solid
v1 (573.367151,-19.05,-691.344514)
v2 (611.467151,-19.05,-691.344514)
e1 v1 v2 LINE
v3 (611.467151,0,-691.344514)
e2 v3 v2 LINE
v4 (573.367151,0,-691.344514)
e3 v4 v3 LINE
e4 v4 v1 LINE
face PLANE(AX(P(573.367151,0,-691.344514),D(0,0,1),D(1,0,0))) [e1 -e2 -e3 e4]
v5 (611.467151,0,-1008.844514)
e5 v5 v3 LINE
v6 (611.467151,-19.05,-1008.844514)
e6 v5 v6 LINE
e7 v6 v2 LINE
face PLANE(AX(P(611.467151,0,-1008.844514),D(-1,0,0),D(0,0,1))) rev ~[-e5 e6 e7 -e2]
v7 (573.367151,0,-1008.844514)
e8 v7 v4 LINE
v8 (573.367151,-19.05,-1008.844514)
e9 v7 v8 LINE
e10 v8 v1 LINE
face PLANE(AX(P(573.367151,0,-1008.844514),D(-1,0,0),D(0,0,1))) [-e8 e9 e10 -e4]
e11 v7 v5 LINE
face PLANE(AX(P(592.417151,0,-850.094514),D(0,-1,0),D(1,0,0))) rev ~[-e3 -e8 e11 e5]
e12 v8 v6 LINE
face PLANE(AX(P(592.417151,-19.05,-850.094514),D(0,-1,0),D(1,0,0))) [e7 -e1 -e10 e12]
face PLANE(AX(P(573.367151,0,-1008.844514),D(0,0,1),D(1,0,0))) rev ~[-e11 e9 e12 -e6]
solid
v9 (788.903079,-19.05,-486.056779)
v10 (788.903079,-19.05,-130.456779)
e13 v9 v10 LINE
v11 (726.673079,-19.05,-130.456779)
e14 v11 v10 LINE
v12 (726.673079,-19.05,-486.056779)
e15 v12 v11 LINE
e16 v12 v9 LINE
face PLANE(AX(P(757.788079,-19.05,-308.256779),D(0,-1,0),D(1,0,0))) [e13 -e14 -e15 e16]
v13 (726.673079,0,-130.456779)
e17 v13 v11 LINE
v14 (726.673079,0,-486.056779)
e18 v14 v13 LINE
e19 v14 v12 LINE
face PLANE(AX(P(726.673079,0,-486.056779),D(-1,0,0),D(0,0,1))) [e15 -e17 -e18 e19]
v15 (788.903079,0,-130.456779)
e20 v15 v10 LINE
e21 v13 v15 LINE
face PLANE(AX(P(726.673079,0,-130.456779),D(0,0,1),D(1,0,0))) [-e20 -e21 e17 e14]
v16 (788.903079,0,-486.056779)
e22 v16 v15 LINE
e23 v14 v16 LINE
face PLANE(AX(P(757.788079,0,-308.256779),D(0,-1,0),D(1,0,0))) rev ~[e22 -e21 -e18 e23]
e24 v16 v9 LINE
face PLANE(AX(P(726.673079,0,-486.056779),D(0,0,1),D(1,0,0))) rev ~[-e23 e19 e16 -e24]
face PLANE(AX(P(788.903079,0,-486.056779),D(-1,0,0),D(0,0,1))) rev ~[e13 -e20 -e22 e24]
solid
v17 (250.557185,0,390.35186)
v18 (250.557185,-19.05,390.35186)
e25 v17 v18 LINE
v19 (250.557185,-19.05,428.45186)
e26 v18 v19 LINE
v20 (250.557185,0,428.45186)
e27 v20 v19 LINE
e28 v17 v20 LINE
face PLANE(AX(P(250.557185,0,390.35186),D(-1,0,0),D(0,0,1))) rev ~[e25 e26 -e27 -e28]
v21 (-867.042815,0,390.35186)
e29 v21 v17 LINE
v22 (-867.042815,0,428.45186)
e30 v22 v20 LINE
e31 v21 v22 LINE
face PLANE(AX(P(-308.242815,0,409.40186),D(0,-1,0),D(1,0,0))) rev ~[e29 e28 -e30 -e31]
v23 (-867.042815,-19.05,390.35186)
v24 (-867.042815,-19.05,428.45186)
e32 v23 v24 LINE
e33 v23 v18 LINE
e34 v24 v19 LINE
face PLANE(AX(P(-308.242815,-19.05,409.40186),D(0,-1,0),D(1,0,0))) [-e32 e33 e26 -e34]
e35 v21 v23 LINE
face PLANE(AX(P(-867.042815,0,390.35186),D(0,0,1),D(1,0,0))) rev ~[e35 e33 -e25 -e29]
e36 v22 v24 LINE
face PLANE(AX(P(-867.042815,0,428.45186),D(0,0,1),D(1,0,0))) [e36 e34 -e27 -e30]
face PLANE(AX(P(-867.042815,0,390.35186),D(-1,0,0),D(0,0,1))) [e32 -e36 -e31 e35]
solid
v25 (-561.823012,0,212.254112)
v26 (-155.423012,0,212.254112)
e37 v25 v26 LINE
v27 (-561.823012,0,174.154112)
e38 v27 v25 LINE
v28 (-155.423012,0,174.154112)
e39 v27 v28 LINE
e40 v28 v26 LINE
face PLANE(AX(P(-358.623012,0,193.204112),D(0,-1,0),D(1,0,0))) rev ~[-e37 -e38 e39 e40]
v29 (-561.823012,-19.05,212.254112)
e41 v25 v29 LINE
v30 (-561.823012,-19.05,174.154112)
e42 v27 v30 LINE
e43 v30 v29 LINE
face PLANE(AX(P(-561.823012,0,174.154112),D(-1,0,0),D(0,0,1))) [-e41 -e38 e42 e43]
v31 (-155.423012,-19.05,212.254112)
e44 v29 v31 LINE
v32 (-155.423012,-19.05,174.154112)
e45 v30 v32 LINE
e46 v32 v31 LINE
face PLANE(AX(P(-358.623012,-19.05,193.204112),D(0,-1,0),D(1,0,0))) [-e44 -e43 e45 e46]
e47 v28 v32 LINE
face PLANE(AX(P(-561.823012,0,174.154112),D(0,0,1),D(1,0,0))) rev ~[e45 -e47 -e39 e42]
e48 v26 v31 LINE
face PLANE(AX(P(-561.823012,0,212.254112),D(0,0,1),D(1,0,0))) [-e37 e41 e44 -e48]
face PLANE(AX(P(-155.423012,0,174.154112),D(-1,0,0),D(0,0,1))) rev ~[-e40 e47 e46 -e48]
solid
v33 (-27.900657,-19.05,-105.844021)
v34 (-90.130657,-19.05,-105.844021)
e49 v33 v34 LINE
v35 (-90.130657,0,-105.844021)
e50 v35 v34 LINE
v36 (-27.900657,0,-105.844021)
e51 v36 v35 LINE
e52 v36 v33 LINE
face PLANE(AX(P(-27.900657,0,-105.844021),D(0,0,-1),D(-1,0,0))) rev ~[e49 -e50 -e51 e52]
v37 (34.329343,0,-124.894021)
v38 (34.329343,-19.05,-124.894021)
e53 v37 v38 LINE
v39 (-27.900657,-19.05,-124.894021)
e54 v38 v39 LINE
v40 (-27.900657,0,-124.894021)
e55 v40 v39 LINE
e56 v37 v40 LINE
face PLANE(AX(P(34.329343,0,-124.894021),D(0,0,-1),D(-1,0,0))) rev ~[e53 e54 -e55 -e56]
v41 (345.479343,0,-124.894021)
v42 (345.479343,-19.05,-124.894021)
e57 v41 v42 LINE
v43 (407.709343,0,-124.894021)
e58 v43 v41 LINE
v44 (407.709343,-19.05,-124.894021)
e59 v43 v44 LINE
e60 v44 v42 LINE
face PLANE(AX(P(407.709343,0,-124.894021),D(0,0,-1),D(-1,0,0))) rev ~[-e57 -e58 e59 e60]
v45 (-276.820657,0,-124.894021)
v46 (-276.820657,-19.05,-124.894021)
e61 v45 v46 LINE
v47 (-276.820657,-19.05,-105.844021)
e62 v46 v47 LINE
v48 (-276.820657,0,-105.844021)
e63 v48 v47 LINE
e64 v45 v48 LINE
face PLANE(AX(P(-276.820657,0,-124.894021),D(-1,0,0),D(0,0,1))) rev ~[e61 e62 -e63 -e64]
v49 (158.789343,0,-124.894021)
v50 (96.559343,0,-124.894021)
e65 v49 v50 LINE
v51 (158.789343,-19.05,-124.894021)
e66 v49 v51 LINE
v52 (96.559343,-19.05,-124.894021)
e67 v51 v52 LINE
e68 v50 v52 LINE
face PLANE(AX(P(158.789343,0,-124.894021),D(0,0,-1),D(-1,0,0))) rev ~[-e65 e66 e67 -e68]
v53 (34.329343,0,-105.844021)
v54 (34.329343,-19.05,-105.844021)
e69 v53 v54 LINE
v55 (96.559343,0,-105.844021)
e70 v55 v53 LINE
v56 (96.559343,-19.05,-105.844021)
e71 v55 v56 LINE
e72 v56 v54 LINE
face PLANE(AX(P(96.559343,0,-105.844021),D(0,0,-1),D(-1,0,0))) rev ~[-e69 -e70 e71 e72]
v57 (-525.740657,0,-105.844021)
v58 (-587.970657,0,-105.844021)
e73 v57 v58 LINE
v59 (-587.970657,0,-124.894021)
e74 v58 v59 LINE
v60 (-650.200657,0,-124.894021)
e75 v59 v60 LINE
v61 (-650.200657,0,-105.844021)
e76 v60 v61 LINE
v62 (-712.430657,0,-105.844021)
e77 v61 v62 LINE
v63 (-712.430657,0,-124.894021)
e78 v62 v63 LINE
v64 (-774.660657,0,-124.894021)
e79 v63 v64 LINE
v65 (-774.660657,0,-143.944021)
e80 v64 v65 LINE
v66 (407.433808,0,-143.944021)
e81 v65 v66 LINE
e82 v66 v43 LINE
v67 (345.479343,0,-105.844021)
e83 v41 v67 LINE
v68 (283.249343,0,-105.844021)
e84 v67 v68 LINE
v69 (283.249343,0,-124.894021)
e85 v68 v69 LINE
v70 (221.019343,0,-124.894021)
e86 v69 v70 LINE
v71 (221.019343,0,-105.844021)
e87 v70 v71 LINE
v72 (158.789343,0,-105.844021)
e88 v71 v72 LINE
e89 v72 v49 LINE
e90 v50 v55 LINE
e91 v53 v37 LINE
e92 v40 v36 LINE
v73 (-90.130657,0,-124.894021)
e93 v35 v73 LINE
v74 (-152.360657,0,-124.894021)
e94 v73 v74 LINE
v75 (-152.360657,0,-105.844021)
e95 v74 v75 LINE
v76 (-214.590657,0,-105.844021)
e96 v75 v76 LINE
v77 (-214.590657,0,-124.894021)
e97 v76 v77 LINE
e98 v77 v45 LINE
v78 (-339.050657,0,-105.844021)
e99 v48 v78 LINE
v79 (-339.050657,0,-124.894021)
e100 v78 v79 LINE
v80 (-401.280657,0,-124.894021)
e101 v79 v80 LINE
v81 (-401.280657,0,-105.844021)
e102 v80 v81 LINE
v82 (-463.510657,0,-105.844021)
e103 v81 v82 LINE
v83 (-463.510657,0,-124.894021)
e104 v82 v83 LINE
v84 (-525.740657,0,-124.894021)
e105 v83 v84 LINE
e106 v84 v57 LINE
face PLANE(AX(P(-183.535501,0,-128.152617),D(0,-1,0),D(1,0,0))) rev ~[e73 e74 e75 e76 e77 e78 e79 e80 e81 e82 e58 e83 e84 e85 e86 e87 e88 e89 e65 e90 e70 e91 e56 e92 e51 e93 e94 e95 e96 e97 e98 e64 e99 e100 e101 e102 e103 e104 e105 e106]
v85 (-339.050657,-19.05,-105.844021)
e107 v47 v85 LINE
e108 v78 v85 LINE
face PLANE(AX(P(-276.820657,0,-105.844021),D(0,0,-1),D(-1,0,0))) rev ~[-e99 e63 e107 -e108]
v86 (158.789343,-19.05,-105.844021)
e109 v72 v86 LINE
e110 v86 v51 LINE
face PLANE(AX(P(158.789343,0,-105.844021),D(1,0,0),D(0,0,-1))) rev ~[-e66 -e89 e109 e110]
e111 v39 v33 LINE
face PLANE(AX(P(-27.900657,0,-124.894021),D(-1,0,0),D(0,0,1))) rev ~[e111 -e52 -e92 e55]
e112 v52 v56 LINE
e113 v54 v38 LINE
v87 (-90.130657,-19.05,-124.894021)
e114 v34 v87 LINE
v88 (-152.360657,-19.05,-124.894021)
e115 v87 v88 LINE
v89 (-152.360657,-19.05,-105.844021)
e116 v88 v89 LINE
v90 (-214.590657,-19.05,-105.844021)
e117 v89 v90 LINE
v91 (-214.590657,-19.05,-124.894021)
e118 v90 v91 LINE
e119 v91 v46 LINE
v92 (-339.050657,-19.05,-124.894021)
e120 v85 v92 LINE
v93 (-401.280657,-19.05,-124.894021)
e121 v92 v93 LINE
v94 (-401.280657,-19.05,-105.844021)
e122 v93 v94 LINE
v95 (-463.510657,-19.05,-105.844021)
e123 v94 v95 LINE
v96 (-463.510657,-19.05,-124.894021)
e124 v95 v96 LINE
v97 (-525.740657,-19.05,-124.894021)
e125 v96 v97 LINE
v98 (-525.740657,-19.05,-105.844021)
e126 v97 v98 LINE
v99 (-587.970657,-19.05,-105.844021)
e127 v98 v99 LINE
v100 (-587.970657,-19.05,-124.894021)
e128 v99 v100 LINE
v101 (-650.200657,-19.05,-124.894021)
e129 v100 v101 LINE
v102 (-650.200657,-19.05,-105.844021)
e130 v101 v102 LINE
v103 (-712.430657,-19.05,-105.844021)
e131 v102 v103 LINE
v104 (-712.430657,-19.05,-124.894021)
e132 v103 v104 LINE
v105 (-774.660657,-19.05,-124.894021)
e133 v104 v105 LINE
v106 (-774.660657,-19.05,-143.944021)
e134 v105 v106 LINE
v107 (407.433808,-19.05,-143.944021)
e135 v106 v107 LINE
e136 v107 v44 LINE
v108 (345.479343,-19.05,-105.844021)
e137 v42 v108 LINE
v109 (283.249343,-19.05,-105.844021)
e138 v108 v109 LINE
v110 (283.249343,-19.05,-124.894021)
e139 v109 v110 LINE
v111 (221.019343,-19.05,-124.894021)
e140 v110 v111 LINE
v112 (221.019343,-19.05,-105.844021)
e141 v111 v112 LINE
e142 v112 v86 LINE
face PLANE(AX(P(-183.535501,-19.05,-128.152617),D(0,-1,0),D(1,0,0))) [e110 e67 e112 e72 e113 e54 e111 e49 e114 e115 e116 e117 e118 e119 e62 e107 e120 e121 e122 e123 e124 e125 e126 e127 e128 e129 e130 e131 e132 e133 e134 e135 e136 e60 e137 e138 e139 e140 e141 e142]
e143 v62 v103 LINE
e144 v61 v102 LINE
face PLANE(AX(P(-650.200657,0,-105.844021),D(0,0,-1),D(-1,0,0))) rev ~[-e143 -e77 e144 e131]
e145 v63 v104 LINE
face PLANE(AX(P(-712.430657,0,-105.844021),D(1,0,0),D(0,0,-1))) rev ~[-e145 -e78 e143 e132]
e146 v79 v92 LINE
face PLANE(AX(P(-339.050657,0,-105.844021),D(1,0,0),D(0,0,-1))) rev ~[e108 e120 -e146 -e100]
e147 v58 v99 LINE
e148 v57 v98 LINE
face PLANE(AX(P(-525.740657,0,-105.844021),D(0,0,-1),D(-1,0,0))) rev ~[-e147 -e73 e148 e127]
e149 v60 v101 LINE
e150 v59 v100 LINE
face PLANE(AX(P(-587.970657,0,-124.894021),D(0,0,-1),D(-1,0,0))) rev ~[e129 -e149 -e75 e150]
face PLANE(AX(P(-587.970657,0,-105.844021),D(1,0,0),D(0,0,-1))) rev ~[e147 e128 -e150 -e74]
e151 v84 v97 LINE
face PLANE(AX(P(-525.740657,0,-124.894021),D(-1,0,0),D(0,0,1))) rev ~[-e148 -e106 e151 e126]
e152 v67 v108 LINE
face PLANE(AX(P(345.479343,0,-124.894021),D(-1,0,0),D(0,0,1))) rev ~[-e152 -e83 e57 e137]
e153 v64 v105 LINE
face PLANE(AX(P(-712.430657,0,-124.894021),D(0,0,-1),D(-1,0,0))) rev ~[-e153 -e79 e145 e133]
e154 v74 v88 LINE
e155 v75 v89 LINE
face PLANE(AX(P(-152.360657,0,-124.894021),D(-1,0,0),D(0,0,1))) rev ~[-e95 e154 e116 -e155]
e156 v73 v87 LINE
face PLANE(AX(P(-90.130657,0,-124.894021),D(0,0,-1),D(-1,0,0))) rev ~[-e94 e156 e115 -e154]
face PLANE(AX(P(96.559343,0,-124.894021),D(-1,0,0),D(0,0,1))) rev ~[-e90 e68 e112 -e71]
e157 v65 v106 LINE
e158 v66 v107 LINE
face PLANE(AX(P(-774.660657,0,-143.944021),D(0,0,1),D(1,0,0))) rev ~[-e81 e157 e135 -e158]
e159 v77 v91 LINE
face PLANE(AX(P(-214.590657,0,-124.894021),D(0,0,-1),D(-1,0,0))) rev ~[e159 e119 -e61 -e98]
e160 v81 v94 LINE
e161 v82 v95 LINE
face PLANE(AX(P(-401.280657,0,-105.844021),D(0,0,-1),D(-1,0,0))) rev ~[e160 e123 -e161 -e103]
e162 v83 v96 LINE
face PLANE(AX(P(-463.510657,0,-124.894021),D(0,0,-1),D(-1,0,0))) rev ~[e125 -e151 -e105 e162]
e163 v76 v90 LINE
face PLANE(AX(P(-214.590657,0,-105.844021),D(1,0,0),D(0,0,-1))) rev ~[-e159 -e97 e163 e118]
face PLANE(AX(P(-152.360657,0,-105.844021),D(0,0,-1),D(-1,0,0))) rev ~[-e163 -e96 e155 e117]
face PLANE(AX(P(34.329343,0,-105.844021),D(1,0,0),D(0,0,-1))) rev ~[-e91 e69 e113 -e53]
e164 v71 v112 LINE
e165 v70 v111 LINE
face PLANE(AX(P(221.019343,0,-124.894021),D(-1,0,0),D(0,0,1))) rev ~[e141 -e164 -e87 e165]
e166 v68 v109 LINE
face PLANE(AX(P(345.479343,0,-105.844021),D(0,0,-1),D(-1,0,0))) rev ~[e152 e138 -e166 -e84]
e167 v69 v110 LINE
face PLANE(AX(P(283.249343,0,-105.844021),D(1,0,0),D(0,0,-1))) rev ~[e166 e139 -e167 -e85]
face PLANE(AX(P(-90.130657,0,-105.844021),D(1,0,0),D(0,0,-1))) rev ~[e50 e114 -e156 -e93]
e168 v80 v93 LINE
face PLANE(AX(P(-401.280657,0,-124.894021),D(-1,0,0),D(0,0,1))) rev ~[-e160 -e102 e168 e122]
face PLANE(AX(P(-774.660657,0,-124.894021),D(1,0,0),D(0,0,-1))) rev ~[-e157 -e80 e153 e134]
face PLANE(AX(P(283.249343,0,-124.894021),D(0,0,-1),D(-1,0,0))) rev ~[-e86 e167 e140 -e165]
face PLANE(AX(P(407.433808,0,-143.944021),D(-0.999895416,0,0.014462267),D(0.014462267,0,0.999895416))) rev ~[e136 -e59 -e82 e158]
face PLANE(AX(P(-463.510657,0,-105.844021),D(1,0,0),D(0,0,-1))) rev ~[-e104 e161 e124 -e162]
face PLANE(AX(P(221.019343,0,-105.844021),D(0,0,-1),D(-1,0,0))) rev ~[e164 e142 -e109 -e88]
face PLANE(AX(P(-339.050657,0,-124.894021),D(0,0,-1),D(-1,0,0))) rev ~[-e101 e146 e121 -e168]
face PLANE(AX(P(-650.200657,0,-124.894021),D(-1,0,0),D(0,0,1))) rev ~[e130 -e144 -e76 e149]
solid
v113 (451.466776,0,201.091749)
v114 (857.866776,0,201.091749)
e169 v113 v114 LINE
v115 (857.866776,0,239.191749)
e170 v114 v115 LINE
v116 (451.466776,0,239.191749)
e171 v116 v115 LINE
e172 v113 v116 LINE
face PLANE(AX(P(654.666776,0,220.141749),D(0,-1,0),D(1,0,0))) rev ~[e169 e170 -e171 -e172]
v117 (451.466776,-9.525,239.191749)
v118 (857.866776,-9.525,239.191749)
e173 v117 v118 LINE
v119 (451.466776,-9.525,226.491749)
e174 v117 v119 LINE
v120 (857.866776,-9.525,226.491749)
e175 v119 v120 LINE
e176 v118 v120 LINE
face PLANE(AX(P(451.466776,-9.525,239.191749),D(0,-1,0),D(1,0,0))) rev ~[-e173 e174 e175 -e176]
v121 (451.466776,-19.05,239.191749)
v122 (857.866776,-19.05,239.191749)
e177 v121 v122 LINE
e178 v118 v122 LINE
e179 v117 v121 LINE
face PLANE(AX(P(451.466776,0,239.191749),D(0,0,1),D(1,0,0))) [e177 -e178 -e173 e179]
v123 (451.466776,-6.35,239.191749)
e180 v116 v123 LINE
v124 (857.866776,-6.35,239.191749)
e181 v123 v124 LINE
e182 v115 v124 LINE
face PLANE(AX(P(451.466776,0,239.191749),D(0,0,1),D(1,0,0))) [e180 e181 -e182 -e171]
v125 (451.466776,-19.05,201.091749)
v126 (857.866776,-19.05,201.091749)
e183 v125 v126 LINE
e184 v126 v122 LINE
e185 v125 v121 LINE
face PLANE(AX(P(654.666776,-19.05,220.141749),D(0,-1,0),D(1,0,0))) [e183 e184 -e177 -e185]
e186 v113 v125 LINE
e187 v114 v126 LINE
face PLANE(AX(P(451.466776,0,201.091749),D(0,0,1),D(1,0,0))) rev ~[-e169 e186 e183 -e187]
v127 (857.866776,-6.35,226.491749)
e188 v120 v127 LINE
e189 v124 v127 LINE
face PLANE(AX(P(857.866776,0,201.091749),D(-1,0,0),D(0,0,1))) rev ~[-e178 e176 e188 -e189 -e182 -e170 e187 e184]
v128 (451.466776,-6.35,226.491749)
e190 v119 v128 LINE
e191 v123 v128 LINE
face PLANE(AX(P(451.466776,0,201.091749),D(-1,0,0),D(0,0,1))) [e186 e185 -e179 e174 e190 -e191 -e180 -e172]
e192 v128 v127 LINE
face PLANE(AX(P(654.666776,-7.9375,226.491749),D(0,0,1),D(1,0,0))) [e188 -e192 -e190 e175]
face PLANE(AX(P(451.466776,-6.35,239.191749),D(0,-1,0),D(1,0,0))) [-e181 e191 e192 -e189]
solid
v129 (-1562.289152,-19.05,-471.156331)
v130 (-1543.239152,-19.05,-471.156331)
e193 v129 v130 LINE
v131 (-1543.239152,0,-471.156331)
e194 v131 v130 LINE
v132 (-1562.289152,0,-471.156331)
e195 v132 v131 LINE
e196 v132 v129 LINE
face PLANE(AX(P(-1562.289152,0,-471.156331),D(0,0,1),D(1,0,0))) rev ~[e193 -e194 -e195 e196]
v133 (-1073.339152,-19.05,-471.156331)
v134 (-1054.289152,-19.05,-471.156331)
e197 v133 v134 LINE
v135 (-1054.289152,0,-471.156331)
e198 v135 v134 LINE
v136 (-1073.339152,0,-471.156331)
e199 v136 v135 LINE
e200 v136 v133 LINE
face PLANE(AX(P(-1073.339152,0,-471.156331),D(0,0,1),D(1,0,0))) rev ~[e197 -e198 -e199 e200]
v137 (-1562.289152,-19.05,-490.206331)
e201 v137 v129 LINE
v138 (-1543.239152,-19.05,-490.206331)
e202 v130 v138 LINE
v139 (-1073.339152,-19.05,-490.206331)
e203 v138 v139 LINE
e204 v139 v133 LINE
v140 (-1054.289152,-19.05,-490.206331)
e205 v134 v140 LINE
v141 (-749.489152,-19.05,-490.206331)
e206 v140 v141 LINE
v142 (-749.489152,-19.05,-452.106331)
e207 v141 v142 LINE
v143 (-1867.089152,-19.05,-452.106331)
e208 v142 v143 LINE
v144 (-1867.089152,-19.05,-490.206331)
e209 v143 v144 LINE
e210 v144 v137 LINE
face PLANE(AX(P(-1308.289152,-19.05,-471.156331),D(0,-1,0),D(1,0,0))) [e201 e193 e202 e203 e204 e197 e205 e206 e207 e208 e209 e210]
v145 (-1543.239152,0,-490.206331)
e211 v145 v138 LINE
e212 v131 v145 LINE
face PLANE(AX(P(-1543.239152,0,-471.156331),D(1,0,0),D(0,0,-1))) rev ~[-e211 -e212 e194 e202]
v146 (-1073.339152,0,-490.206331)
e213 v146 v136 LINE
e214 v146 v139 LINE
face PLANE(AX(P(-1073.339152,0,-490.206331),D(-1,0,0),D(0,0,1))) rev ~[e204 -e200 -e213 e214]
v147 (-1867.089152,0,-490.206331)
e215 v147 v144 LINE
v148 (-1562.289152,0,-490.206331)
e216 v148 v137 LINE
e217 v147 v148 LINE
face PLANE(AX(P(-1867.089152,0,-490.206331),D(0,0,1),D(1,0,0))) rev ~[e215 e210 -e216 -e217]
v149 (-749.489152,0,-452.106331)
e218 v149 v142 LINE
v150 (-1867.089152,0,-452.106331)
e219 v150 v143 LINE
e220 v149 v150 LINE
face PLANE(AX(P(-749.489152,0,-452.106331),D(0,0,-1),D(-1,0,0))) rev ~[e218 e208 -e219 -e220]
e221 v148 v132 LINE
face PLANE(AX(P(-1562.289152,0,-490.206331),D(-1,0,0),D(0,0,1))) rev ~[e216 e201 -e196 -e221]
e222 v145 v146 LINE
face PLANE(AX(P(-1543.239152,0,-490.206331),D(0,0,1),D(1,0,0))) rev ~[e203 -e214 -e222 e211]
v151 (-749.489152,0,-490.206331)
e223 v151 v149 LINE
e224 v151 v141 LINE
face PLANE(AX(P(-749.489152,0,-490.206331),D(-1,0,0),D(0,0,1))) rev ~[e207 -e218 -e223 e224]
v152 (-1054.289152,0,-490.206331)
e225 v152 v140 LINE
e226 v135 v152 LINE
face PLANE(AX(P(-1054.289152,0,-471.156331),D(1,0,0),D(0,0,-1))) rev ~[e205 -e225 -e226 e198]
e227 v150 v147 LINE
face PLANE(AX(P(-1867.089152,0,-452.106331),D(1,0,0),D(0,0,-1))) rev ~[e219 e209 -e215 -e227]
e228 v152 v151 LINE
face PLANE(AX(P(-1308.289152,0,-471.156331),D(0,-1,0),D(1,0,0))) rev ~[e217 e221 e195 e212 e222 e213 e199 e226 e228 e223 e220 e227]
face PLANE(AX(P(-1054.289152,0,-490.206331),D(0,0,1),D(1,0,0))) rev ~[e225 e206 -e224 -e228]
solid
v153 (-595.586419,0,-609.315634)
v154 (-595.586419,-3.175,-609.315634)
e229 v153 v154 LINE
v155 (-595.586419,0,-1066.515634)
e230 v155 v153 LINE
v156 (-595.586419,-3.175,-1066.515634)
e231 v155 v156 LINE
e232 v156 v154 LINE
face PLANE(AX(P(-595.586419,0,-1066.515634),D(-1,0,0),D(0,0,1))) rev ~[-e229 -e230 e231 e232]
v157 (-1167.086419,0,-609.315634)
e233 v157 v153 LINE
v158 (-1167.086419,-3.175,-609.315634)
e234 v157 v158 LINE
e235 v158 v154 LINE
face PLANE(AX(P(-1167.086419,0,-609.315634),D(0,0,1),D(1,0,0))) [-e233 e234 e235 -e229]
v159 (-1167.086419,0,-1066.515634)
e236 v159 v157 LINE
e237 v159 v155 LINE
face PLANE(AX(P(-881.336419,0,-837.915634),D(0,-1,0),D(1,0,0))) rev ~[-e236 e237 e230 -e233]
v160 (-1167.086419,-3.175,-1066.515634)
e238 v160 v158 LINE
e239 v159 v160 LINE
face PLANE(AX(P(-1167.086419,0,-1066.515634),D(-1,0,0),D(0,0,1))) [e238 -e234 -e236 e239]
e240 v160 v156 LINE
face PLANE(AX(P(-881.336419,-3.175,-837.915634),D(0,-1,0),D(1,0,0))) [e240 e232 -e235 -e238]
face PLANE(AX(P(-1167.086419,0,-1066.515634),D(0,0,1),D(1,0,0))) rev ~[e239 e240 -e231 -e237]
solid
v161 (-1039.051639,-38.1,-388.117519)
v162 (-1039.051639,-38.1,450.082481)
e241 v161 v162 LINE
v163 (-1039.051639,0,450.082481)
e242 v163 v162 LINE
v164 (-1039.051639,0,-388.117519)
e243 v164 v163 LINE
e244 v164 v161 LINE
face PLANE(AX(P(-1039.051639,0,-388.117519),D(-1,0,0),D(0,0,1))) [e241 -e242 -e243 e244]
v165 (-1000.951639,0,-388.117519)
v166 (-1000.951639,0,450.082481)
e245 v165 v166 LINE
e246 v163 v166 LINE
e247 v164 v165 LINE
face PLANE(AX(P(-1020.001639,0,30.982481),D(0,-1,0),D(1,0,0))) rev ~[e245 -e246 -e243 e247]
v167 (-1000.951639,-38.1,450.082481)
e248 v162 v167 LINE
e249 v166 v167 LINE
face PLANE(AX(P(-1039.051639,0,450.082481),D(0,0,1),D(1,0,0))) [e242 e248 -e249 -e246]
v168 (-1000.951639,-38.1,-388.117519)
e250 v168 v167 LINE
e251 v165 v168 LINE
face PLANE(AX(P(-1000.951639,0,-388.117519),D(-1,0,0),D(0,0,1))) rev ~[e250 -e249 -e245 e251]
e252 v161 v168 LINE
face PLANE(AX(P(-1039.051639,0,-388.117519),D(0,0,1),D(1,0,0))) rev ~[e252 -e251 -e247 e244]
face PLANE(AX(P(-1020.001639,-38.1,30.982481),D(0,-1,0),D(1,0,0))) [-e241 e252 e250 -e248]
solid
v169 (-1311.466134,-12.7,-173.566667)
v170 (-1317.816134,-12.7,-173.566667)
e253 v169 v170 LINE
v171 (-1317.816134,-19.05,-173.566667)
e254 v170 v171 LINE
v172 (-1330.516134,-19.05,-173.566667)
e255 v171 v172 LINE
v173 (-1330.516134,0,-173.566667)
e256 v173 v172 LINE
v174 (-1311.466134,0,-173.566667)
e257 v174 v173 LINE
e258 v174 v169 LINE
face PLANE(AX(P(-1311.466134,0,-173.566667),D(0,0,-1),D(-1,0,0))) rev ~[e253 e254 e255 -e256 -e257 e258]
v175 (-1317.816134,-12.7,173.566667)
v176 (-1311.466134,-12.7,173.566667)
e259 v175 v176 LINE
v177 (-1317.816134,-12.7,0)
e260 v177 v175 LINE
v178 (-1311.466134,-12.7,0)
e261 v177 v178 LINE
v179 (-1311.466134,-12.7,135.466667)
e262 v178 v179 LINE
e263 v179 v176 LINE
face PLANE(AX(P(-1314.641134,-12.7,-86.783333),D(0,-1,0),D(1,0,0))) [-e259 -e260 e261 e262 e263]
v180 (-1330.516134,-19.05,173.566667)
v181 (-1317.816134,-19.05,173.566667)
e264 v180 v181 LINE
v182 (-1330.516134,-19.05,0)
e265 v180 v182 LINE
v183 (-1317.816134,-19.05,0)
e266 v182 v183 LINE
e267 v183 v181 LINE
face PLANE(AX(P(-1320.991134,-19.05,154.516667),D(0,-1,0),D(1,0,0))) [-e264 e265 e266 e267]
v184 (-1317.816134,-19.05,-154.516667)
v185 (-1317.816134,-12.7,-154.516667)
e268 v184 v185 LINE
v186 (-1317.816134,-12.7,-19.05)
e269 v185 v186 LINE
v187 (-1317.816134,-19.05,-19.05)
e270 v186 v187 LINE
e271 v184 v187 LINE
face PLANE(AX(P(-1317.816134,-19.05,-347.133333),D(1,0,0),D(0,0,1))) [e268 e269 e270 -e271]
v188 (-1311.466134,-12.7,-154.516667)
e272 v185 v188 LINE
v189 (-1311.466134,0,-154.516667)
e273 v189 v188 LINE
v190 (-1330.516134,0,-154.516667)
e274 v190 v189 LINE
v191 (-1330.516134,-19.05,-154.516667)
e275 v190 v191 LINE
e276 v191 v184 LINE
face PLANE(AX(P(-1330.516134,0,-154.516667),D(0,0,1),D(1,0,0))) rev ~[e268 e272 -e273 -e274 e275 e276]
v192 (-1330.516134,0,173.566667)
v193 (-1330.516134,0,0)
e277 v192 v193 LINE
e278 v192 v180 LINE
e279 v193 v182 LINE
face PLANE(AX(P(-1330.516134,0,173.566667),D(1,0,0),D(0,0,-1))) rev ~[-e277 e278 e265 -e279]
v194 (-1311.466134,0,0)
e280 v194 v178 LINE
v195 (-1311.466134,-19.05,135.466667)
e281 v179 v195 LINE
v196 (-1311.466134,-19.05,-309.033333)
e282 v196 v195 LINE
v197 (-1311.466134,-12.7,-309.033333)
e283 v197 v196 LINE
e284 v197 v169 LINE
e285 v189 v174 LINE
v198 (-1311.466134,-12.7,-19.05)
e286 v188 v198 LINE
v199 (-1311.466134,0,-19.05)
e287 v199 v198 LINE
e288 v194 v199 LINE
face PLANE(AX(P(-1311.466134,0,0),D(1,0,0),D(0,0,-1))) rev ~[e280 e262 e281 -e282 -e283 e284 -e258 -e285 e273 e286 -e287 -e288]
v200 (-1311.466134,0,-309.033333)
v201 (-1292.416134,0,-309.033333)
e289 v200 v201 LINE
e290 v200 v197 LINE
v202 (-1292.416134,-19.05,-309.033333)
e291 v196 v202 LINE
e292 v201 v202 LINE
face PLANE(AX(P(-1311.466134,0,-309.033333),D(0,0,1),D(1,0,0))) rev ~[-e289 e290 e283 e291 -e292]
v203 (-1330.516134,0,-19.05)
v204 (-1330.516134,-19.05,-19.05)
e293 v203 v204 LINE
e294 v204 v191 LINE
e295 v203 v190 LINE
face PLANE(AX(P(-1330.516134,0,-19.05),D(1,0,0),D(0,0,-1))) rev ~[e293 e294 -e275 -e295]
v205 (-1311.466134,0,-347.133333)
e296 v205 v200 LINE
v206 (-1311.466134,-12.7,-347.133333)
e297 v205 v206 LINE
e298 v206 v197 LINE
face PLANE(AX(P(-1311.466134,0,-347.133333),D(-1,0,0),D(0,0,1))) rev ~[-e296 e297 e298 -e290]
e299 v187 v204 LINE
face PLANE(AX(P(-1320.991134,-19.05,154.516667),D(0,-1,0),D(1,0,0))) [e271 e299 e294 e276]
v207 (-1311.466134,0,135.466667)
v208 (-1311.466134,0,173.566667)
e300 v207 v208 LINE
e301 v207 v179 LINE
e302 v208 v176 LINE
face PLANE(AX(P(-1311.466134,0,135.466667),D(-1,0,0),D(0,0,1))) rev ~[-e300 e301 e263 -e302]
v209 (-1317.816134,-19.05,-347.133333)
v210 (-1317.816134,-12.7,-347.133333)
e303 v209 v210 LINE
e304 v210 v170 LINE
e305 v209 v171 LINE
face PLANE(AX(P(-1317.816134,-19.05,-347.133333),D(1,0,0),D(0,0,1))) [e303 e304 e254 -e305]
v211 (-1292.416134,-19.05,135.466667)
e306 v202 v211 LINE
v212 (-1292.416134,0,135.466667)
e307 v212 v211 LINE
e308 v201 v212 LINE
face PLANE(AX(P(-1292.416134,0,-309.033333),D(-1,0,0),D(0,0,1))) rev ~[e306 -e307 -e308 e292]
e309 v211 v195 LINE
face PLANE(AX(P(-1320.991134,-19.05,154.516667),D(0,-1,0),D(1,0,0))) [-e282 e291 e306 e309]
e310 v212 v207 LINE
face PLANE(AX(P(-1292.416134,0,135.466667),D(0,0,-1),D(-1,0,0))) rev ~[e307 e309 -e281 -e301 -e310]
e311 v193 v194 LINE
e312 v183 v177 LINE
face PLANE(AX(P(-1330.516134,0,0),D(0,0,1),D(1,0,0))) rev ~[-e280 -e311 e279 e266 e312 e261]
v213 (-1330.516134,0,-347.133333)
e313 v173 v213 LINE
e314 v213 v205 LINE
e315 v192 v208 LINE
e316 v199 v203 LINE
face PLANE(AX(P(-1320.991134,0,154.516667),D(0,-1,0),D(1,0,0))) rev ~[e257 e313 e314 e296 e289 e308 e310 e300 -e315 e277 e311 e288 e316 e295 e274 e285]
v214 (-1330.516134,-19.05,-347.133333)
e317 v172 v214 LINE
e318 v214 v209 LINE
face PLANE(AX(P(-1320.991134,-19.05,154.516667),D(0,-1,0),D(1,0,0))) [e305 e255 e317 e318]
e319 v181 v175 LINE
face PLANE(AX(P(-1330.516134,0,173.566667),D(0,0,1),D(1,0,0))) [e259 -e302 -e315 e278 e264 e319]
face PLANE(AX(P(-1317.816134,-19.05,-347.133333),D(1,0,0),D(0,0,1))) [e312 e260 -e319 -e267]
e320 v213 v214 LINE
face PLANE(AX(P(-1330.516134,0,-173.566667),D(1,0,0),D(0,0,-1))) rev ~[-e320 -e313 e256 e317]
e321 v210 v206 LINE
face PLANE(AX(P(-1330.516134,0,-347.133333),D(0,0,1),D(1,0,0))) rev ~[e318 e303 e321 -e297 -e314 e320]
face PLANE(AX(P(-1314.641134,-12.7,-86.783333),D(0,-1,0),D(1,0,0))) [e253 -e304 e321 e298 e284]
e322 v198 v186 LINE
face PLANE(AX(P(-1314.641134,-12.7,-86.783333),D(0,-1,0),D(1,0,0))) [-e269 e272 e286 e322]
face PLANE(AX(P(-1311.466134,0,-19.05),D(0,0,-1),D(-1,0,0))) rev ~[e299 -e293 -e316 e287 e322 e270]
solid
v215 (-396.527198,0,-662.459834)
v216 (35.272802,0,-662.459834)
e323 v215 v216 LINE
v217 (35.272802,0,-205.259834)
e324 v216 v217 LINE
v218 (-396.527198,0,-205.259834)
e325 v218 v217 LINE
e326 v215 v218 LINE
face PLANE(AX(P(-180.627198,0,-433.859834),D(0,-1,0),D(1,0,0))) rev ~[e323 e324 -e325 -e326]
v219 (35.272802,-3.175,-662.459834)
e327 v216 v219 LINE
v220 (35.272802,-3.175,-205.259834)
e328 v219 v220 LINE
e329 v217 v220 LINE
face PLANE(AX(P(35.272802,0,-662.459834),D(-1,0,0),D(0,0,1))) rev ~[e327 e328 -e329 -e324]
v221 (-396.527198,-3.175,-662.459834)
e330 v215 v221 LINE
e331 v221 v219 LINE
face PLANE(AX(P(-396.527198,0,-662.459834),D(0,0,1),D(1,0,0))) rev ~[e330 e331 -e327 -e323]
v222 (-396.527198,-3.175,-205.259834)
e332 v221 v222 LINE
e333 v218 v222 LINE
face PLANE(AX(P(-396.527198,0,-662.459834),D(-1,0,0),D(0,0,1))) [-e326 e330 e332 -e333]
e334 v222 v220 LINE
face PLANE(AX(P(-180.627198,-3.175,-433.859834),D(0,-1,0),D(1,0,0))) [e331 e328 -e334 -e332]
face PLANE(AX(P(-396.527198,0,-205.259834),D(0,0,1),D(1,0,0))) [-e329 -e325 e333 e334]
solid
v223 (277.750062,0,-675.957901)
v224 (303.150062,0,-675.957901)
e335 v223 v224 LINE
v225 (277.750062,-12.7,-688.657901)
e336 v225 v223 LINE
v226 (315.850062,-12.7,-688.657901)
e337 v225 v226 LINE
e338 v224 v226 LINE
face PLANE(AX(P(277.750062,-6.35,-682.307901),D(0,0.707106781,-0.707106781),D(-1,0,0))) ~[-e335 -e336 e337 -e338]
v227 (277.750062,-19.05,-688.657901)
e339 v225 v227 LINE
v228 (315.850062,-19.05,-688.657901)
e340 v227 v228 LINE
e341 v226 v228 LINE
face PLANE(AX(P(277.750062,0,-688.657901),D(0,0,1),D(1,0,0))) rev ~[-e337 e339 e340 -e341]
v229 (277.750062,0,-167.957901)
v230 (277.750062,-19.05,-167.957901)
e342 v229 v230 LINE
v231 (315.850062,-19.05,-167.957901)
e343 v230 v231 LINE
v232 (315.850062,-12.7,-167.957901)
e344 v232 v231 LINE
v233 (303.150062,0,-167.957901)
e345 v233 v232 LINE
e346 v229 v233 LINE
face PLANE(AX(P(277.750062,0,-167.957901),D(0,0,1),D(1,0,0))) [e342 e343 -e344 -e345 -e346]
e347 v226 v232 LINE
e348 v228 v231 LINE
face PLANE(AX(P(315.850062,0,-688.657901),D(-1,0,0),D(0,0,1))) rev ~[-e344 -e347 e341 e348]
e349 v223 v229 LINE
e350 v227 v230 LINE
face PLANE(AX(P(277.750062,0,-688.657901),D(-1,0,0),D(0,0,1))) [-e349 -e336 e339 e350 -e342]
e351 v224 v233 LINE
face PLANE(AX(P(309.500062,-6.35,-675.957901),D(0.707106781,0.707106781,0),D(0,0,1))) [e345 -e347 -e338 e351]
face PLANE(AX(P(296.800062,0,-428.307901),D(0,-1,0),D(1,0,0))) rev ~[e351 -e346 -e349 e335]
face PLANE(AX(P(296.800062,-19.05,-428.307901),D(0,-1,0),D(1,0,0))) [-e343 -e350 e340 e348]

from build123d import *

# Parameters (mm, degrees)
F1_DEPTH  = 19.05
F2_W      = 38.1
F2_H      = 838.2
F3_DEPTH  = 38.1
F4_W      = 1117.6
F4_H      = 38.1
F5_DEPTH  = 19.05
F6_W      = 406.4
F6_H      = 38.1
F7_DEPTH  = 19.05
F8_W      = 62.23
F8_H      = 355.6
F9_DEPTH  = 19.05
F10_W     = 431.8
F10_H     = 457.2
F11_DEPTH = 3.175
F12_W     = 406.4
F12_H     = 3.175
F13_DEPTH = 12.7
F14_W     = 19.05
F14_H     = 38.1
F15_DEPTH = 19.05
F17_DEPTH = 19.05
F18_W     = 406.4
F18_H     = 38.1
F19_DEPTH = 19.05
F20_W     = 38.1
F20_H     = 520.7
F21_DEPTH = 19.05
F22_SIZE  = 12.7
F23_SIZE  = 12.7
F24_W     = 571.5
F24_H     = 457.2
F25_DEPTH = 3.175
F26_W     = 38.1
F26_H     = 317.5
F27_DEPTH = 19.05
F28_W     = 6.35
F28_H     = 520.7
F29_DEPTH = 6.35


with BuildPart() as f1:
    # F0 (on Front) → F1 (new body)
    with BuildSketch(Plane.XZ):
        Polygon((-650.200657, -105.844021), (-712.430657, -105.844021), (-712.430657, -124.894021), (-774.660657, -124.894021), (-774.660657, -143.944021), (407.433808, -143.944021), (407.709343, -124.894021), (345.479343, -124.894021), (345.479343, -105.844021), (283.249343, -105.844021), (283.249343, -124.894021), (221.019343, -124.894021), (221.019343, -105.844021), (158.789343, -105.844021), (158.789343, -124.894021), (96.559343, -124.894021), (96.559343, -105.844021), (34.329343, -105.844021), (34.329343, -124.894021), (-27.900657, -124.894021), (-27.900657, -105.844021), (-90.130657, -105.844021), (-90.130657, -124.894021), (-152.360657, -124.894021), (-152.360657, -105.844021), (-214.590657, -105.844021), (-214.590657, -124.894021), (-276.820657, -124.894021), (-276.820657, -105.844021), (-339.050657, -105.844021), (-339.050657, -124.894021), (-401.280657, -124.894021), (-401.280657, -105.844021), (-463.510657, -105.844021), (-463.510657, -124.894021), (-525.740657, -124.894021), (-525.740657, -105.844021), (-587.970657, -105.844021), (-587.970657, -124.894021), (-650.200657, -124.894021), align=None)
    extrude(amount=F1_DEPTH)


with BuildPart() as f3:
    # F2 (on Front) → F3 (new body)
    with BuildSketch(Plane.XZ):
        with Locations((-1020.001639, 30.982481)):
            Rectangle(F2_W, F2_H)
    extrude(amount=F3_DEPTH)


with BuildPart() as f5:
    # F4 (on Front) → F5 (new body)
    with BuildSketch(Plane.XZ):
        with Locations((-308.242815, 409.40186)):
            Rectangle(F4_W, F4_H)
    extrude(amount=F5_DEPTH)


with BuildPart() as f7:
    # F6 (on Front) → F7 (new body)
    with BuildSketch(Plane.XZ):
        with Locations((654.666776, 220.141749)):
            Rectangle(F6_W, F6_H)
    extrude(amount=F7_DEPTH)

    # F12 (on face) → F13 (cut)
    with BuildSketch(Plane.XY.offset(239.191749)):
        with Locations((654.666776, -7.9375)):
            Rectangle(F12_W, F12_H)
    extrude(amount=-F13_DEPTH, mode=Mode.SUBTRACT)


with BuildPart() as f9:
    # F8 (on Front) → F9 (new body)
    with BuildSketch(Plane.XZ):
        with Locations((757.788079, -308.256779)):
            Rectangle(F8_W, F8_H)
    extrude(amount=F9_DEPTH)


with BuildPart() as f11:
    # F10 (on Front) → F11 (new body)
    with BuildSketch(Plane.XZ):
        with Locations((-180.627198, -433.859834)):
            Rectangle(F10_W, F10_H)
    extrude(amount=F11_DEPTH)


with BuildPart() as f15:
    # F14 (on Front) → F15 (new body)
    with BuildSketch(Plane.XZ):
        with Locations((-1320.991134, 154.516667)):
            Rectangle(F14_W, F14_H)
        Polygon((-1311.466134, 135.466667), (-1330.516134, 135.466667), (-1330.516134, 0), (-1311.466134, 0), (-1311.466134, -19.05), (-1330.516134, -19.05), (-1330.516134, -154.516667), (-1311.466134, -154.516667), (-1311.466134, -173.566667), (-1330.516134, -173.566667), (-1330.516134, -309.033333), (-1311.466134, -309.033333), (-1292.416134, -309.033333), (-1292.416134, 135.466667), align=None)
        with Locations((-1320.991134, -328.083333)):
            Rectangle(F14_W, F14_H)
    extrude(amount=F15_DEPTH)

    # F28 (on face) → F29 (cut)
    with BuildSketch(Plane.XZ.offset(19.05)):
        with Locations((-1314.641134, -86.783333)):
            Rectangle(F28_W, F28_H)
    extrude(amount=-F29_DEPTH, mode=Mode.SUBTRACT)


with BuildPart() as f17:
    # F16 (on Front) → F17 (new body)
    with BuildSketch(Plane.XZ):
        Polygon((-749.489152, -452.106331), (-1867.089152, -452.106331), (-1867.089152, -490.206331), (-1562.289152, -490.206331), (-1562.289152, -471.156331), (-1543.239152, -471.156331), (-1543.239152, -490.206331), (-1073.339152, -490.206331), (-1073.339152, -471.156331), (-1054.289152, -471.156331), (-1054.289152, -490.206331), (-749.489152, -490.206331), align=None)
    extrude(amount=F17_DEPTH)


with BuildPart() as f19:
    # F18 (on Front) → F19 (new body)
    with BuildSketch(Plane.XZ):
        with Locations((-358.623012, 193.204112)):
            Rectangle(F18_W, F18_H)
    extrude(amount=F19_DEPTH)


with BuildPart() as f21:
    # F20 (on Front) → F21 (new body)
    with BuildSketch(Plane.XZ):
        with Locations((296.800062, -428.307901)):
            Rectangle(F20_W, F20_H)
    extrude(amount=F21_DEPTH)

    # F22
    f22_edges = [f21.edges().sort_by_distance(p)[0] for p in [
        (296.800062, 0, -688.657901),
    ]]
    chamfer(f22_edges, length=F22_SIZE)

    # F23
    f23_edges = [f21.edges().sort_by_distance(p)[0] for p in [
        (315.850062, 0, -421.957901),
    ]]
    chamfer(f23_edges, length=F23_SIZE)


with BuildPart() as f25:
    # F24 (on Front) → F25 (new body)
    with BuildSketch(Plane.XZ):
        with Locations((-881.336419, -837.915634)):
            Rectangle(F24_W, F24_H)
    extrude(amount=F25_DEPTH)


with BuildPart() as f27:
    # F26 (on Front) → F27 (new body)
    with BuildSketch(Plane.XZ):
        with Locations((592.417151, -850.094514)):
            Rectangle(F26_W, F26_H)
    extrude(amount=F27_DEPTH)


solid = Compound([f1.part, f3.part, f5.part, f7.part, f9.part, f11.part, f15.part, f17.part, f19.part, f21.part, f25.part, f27.part])
